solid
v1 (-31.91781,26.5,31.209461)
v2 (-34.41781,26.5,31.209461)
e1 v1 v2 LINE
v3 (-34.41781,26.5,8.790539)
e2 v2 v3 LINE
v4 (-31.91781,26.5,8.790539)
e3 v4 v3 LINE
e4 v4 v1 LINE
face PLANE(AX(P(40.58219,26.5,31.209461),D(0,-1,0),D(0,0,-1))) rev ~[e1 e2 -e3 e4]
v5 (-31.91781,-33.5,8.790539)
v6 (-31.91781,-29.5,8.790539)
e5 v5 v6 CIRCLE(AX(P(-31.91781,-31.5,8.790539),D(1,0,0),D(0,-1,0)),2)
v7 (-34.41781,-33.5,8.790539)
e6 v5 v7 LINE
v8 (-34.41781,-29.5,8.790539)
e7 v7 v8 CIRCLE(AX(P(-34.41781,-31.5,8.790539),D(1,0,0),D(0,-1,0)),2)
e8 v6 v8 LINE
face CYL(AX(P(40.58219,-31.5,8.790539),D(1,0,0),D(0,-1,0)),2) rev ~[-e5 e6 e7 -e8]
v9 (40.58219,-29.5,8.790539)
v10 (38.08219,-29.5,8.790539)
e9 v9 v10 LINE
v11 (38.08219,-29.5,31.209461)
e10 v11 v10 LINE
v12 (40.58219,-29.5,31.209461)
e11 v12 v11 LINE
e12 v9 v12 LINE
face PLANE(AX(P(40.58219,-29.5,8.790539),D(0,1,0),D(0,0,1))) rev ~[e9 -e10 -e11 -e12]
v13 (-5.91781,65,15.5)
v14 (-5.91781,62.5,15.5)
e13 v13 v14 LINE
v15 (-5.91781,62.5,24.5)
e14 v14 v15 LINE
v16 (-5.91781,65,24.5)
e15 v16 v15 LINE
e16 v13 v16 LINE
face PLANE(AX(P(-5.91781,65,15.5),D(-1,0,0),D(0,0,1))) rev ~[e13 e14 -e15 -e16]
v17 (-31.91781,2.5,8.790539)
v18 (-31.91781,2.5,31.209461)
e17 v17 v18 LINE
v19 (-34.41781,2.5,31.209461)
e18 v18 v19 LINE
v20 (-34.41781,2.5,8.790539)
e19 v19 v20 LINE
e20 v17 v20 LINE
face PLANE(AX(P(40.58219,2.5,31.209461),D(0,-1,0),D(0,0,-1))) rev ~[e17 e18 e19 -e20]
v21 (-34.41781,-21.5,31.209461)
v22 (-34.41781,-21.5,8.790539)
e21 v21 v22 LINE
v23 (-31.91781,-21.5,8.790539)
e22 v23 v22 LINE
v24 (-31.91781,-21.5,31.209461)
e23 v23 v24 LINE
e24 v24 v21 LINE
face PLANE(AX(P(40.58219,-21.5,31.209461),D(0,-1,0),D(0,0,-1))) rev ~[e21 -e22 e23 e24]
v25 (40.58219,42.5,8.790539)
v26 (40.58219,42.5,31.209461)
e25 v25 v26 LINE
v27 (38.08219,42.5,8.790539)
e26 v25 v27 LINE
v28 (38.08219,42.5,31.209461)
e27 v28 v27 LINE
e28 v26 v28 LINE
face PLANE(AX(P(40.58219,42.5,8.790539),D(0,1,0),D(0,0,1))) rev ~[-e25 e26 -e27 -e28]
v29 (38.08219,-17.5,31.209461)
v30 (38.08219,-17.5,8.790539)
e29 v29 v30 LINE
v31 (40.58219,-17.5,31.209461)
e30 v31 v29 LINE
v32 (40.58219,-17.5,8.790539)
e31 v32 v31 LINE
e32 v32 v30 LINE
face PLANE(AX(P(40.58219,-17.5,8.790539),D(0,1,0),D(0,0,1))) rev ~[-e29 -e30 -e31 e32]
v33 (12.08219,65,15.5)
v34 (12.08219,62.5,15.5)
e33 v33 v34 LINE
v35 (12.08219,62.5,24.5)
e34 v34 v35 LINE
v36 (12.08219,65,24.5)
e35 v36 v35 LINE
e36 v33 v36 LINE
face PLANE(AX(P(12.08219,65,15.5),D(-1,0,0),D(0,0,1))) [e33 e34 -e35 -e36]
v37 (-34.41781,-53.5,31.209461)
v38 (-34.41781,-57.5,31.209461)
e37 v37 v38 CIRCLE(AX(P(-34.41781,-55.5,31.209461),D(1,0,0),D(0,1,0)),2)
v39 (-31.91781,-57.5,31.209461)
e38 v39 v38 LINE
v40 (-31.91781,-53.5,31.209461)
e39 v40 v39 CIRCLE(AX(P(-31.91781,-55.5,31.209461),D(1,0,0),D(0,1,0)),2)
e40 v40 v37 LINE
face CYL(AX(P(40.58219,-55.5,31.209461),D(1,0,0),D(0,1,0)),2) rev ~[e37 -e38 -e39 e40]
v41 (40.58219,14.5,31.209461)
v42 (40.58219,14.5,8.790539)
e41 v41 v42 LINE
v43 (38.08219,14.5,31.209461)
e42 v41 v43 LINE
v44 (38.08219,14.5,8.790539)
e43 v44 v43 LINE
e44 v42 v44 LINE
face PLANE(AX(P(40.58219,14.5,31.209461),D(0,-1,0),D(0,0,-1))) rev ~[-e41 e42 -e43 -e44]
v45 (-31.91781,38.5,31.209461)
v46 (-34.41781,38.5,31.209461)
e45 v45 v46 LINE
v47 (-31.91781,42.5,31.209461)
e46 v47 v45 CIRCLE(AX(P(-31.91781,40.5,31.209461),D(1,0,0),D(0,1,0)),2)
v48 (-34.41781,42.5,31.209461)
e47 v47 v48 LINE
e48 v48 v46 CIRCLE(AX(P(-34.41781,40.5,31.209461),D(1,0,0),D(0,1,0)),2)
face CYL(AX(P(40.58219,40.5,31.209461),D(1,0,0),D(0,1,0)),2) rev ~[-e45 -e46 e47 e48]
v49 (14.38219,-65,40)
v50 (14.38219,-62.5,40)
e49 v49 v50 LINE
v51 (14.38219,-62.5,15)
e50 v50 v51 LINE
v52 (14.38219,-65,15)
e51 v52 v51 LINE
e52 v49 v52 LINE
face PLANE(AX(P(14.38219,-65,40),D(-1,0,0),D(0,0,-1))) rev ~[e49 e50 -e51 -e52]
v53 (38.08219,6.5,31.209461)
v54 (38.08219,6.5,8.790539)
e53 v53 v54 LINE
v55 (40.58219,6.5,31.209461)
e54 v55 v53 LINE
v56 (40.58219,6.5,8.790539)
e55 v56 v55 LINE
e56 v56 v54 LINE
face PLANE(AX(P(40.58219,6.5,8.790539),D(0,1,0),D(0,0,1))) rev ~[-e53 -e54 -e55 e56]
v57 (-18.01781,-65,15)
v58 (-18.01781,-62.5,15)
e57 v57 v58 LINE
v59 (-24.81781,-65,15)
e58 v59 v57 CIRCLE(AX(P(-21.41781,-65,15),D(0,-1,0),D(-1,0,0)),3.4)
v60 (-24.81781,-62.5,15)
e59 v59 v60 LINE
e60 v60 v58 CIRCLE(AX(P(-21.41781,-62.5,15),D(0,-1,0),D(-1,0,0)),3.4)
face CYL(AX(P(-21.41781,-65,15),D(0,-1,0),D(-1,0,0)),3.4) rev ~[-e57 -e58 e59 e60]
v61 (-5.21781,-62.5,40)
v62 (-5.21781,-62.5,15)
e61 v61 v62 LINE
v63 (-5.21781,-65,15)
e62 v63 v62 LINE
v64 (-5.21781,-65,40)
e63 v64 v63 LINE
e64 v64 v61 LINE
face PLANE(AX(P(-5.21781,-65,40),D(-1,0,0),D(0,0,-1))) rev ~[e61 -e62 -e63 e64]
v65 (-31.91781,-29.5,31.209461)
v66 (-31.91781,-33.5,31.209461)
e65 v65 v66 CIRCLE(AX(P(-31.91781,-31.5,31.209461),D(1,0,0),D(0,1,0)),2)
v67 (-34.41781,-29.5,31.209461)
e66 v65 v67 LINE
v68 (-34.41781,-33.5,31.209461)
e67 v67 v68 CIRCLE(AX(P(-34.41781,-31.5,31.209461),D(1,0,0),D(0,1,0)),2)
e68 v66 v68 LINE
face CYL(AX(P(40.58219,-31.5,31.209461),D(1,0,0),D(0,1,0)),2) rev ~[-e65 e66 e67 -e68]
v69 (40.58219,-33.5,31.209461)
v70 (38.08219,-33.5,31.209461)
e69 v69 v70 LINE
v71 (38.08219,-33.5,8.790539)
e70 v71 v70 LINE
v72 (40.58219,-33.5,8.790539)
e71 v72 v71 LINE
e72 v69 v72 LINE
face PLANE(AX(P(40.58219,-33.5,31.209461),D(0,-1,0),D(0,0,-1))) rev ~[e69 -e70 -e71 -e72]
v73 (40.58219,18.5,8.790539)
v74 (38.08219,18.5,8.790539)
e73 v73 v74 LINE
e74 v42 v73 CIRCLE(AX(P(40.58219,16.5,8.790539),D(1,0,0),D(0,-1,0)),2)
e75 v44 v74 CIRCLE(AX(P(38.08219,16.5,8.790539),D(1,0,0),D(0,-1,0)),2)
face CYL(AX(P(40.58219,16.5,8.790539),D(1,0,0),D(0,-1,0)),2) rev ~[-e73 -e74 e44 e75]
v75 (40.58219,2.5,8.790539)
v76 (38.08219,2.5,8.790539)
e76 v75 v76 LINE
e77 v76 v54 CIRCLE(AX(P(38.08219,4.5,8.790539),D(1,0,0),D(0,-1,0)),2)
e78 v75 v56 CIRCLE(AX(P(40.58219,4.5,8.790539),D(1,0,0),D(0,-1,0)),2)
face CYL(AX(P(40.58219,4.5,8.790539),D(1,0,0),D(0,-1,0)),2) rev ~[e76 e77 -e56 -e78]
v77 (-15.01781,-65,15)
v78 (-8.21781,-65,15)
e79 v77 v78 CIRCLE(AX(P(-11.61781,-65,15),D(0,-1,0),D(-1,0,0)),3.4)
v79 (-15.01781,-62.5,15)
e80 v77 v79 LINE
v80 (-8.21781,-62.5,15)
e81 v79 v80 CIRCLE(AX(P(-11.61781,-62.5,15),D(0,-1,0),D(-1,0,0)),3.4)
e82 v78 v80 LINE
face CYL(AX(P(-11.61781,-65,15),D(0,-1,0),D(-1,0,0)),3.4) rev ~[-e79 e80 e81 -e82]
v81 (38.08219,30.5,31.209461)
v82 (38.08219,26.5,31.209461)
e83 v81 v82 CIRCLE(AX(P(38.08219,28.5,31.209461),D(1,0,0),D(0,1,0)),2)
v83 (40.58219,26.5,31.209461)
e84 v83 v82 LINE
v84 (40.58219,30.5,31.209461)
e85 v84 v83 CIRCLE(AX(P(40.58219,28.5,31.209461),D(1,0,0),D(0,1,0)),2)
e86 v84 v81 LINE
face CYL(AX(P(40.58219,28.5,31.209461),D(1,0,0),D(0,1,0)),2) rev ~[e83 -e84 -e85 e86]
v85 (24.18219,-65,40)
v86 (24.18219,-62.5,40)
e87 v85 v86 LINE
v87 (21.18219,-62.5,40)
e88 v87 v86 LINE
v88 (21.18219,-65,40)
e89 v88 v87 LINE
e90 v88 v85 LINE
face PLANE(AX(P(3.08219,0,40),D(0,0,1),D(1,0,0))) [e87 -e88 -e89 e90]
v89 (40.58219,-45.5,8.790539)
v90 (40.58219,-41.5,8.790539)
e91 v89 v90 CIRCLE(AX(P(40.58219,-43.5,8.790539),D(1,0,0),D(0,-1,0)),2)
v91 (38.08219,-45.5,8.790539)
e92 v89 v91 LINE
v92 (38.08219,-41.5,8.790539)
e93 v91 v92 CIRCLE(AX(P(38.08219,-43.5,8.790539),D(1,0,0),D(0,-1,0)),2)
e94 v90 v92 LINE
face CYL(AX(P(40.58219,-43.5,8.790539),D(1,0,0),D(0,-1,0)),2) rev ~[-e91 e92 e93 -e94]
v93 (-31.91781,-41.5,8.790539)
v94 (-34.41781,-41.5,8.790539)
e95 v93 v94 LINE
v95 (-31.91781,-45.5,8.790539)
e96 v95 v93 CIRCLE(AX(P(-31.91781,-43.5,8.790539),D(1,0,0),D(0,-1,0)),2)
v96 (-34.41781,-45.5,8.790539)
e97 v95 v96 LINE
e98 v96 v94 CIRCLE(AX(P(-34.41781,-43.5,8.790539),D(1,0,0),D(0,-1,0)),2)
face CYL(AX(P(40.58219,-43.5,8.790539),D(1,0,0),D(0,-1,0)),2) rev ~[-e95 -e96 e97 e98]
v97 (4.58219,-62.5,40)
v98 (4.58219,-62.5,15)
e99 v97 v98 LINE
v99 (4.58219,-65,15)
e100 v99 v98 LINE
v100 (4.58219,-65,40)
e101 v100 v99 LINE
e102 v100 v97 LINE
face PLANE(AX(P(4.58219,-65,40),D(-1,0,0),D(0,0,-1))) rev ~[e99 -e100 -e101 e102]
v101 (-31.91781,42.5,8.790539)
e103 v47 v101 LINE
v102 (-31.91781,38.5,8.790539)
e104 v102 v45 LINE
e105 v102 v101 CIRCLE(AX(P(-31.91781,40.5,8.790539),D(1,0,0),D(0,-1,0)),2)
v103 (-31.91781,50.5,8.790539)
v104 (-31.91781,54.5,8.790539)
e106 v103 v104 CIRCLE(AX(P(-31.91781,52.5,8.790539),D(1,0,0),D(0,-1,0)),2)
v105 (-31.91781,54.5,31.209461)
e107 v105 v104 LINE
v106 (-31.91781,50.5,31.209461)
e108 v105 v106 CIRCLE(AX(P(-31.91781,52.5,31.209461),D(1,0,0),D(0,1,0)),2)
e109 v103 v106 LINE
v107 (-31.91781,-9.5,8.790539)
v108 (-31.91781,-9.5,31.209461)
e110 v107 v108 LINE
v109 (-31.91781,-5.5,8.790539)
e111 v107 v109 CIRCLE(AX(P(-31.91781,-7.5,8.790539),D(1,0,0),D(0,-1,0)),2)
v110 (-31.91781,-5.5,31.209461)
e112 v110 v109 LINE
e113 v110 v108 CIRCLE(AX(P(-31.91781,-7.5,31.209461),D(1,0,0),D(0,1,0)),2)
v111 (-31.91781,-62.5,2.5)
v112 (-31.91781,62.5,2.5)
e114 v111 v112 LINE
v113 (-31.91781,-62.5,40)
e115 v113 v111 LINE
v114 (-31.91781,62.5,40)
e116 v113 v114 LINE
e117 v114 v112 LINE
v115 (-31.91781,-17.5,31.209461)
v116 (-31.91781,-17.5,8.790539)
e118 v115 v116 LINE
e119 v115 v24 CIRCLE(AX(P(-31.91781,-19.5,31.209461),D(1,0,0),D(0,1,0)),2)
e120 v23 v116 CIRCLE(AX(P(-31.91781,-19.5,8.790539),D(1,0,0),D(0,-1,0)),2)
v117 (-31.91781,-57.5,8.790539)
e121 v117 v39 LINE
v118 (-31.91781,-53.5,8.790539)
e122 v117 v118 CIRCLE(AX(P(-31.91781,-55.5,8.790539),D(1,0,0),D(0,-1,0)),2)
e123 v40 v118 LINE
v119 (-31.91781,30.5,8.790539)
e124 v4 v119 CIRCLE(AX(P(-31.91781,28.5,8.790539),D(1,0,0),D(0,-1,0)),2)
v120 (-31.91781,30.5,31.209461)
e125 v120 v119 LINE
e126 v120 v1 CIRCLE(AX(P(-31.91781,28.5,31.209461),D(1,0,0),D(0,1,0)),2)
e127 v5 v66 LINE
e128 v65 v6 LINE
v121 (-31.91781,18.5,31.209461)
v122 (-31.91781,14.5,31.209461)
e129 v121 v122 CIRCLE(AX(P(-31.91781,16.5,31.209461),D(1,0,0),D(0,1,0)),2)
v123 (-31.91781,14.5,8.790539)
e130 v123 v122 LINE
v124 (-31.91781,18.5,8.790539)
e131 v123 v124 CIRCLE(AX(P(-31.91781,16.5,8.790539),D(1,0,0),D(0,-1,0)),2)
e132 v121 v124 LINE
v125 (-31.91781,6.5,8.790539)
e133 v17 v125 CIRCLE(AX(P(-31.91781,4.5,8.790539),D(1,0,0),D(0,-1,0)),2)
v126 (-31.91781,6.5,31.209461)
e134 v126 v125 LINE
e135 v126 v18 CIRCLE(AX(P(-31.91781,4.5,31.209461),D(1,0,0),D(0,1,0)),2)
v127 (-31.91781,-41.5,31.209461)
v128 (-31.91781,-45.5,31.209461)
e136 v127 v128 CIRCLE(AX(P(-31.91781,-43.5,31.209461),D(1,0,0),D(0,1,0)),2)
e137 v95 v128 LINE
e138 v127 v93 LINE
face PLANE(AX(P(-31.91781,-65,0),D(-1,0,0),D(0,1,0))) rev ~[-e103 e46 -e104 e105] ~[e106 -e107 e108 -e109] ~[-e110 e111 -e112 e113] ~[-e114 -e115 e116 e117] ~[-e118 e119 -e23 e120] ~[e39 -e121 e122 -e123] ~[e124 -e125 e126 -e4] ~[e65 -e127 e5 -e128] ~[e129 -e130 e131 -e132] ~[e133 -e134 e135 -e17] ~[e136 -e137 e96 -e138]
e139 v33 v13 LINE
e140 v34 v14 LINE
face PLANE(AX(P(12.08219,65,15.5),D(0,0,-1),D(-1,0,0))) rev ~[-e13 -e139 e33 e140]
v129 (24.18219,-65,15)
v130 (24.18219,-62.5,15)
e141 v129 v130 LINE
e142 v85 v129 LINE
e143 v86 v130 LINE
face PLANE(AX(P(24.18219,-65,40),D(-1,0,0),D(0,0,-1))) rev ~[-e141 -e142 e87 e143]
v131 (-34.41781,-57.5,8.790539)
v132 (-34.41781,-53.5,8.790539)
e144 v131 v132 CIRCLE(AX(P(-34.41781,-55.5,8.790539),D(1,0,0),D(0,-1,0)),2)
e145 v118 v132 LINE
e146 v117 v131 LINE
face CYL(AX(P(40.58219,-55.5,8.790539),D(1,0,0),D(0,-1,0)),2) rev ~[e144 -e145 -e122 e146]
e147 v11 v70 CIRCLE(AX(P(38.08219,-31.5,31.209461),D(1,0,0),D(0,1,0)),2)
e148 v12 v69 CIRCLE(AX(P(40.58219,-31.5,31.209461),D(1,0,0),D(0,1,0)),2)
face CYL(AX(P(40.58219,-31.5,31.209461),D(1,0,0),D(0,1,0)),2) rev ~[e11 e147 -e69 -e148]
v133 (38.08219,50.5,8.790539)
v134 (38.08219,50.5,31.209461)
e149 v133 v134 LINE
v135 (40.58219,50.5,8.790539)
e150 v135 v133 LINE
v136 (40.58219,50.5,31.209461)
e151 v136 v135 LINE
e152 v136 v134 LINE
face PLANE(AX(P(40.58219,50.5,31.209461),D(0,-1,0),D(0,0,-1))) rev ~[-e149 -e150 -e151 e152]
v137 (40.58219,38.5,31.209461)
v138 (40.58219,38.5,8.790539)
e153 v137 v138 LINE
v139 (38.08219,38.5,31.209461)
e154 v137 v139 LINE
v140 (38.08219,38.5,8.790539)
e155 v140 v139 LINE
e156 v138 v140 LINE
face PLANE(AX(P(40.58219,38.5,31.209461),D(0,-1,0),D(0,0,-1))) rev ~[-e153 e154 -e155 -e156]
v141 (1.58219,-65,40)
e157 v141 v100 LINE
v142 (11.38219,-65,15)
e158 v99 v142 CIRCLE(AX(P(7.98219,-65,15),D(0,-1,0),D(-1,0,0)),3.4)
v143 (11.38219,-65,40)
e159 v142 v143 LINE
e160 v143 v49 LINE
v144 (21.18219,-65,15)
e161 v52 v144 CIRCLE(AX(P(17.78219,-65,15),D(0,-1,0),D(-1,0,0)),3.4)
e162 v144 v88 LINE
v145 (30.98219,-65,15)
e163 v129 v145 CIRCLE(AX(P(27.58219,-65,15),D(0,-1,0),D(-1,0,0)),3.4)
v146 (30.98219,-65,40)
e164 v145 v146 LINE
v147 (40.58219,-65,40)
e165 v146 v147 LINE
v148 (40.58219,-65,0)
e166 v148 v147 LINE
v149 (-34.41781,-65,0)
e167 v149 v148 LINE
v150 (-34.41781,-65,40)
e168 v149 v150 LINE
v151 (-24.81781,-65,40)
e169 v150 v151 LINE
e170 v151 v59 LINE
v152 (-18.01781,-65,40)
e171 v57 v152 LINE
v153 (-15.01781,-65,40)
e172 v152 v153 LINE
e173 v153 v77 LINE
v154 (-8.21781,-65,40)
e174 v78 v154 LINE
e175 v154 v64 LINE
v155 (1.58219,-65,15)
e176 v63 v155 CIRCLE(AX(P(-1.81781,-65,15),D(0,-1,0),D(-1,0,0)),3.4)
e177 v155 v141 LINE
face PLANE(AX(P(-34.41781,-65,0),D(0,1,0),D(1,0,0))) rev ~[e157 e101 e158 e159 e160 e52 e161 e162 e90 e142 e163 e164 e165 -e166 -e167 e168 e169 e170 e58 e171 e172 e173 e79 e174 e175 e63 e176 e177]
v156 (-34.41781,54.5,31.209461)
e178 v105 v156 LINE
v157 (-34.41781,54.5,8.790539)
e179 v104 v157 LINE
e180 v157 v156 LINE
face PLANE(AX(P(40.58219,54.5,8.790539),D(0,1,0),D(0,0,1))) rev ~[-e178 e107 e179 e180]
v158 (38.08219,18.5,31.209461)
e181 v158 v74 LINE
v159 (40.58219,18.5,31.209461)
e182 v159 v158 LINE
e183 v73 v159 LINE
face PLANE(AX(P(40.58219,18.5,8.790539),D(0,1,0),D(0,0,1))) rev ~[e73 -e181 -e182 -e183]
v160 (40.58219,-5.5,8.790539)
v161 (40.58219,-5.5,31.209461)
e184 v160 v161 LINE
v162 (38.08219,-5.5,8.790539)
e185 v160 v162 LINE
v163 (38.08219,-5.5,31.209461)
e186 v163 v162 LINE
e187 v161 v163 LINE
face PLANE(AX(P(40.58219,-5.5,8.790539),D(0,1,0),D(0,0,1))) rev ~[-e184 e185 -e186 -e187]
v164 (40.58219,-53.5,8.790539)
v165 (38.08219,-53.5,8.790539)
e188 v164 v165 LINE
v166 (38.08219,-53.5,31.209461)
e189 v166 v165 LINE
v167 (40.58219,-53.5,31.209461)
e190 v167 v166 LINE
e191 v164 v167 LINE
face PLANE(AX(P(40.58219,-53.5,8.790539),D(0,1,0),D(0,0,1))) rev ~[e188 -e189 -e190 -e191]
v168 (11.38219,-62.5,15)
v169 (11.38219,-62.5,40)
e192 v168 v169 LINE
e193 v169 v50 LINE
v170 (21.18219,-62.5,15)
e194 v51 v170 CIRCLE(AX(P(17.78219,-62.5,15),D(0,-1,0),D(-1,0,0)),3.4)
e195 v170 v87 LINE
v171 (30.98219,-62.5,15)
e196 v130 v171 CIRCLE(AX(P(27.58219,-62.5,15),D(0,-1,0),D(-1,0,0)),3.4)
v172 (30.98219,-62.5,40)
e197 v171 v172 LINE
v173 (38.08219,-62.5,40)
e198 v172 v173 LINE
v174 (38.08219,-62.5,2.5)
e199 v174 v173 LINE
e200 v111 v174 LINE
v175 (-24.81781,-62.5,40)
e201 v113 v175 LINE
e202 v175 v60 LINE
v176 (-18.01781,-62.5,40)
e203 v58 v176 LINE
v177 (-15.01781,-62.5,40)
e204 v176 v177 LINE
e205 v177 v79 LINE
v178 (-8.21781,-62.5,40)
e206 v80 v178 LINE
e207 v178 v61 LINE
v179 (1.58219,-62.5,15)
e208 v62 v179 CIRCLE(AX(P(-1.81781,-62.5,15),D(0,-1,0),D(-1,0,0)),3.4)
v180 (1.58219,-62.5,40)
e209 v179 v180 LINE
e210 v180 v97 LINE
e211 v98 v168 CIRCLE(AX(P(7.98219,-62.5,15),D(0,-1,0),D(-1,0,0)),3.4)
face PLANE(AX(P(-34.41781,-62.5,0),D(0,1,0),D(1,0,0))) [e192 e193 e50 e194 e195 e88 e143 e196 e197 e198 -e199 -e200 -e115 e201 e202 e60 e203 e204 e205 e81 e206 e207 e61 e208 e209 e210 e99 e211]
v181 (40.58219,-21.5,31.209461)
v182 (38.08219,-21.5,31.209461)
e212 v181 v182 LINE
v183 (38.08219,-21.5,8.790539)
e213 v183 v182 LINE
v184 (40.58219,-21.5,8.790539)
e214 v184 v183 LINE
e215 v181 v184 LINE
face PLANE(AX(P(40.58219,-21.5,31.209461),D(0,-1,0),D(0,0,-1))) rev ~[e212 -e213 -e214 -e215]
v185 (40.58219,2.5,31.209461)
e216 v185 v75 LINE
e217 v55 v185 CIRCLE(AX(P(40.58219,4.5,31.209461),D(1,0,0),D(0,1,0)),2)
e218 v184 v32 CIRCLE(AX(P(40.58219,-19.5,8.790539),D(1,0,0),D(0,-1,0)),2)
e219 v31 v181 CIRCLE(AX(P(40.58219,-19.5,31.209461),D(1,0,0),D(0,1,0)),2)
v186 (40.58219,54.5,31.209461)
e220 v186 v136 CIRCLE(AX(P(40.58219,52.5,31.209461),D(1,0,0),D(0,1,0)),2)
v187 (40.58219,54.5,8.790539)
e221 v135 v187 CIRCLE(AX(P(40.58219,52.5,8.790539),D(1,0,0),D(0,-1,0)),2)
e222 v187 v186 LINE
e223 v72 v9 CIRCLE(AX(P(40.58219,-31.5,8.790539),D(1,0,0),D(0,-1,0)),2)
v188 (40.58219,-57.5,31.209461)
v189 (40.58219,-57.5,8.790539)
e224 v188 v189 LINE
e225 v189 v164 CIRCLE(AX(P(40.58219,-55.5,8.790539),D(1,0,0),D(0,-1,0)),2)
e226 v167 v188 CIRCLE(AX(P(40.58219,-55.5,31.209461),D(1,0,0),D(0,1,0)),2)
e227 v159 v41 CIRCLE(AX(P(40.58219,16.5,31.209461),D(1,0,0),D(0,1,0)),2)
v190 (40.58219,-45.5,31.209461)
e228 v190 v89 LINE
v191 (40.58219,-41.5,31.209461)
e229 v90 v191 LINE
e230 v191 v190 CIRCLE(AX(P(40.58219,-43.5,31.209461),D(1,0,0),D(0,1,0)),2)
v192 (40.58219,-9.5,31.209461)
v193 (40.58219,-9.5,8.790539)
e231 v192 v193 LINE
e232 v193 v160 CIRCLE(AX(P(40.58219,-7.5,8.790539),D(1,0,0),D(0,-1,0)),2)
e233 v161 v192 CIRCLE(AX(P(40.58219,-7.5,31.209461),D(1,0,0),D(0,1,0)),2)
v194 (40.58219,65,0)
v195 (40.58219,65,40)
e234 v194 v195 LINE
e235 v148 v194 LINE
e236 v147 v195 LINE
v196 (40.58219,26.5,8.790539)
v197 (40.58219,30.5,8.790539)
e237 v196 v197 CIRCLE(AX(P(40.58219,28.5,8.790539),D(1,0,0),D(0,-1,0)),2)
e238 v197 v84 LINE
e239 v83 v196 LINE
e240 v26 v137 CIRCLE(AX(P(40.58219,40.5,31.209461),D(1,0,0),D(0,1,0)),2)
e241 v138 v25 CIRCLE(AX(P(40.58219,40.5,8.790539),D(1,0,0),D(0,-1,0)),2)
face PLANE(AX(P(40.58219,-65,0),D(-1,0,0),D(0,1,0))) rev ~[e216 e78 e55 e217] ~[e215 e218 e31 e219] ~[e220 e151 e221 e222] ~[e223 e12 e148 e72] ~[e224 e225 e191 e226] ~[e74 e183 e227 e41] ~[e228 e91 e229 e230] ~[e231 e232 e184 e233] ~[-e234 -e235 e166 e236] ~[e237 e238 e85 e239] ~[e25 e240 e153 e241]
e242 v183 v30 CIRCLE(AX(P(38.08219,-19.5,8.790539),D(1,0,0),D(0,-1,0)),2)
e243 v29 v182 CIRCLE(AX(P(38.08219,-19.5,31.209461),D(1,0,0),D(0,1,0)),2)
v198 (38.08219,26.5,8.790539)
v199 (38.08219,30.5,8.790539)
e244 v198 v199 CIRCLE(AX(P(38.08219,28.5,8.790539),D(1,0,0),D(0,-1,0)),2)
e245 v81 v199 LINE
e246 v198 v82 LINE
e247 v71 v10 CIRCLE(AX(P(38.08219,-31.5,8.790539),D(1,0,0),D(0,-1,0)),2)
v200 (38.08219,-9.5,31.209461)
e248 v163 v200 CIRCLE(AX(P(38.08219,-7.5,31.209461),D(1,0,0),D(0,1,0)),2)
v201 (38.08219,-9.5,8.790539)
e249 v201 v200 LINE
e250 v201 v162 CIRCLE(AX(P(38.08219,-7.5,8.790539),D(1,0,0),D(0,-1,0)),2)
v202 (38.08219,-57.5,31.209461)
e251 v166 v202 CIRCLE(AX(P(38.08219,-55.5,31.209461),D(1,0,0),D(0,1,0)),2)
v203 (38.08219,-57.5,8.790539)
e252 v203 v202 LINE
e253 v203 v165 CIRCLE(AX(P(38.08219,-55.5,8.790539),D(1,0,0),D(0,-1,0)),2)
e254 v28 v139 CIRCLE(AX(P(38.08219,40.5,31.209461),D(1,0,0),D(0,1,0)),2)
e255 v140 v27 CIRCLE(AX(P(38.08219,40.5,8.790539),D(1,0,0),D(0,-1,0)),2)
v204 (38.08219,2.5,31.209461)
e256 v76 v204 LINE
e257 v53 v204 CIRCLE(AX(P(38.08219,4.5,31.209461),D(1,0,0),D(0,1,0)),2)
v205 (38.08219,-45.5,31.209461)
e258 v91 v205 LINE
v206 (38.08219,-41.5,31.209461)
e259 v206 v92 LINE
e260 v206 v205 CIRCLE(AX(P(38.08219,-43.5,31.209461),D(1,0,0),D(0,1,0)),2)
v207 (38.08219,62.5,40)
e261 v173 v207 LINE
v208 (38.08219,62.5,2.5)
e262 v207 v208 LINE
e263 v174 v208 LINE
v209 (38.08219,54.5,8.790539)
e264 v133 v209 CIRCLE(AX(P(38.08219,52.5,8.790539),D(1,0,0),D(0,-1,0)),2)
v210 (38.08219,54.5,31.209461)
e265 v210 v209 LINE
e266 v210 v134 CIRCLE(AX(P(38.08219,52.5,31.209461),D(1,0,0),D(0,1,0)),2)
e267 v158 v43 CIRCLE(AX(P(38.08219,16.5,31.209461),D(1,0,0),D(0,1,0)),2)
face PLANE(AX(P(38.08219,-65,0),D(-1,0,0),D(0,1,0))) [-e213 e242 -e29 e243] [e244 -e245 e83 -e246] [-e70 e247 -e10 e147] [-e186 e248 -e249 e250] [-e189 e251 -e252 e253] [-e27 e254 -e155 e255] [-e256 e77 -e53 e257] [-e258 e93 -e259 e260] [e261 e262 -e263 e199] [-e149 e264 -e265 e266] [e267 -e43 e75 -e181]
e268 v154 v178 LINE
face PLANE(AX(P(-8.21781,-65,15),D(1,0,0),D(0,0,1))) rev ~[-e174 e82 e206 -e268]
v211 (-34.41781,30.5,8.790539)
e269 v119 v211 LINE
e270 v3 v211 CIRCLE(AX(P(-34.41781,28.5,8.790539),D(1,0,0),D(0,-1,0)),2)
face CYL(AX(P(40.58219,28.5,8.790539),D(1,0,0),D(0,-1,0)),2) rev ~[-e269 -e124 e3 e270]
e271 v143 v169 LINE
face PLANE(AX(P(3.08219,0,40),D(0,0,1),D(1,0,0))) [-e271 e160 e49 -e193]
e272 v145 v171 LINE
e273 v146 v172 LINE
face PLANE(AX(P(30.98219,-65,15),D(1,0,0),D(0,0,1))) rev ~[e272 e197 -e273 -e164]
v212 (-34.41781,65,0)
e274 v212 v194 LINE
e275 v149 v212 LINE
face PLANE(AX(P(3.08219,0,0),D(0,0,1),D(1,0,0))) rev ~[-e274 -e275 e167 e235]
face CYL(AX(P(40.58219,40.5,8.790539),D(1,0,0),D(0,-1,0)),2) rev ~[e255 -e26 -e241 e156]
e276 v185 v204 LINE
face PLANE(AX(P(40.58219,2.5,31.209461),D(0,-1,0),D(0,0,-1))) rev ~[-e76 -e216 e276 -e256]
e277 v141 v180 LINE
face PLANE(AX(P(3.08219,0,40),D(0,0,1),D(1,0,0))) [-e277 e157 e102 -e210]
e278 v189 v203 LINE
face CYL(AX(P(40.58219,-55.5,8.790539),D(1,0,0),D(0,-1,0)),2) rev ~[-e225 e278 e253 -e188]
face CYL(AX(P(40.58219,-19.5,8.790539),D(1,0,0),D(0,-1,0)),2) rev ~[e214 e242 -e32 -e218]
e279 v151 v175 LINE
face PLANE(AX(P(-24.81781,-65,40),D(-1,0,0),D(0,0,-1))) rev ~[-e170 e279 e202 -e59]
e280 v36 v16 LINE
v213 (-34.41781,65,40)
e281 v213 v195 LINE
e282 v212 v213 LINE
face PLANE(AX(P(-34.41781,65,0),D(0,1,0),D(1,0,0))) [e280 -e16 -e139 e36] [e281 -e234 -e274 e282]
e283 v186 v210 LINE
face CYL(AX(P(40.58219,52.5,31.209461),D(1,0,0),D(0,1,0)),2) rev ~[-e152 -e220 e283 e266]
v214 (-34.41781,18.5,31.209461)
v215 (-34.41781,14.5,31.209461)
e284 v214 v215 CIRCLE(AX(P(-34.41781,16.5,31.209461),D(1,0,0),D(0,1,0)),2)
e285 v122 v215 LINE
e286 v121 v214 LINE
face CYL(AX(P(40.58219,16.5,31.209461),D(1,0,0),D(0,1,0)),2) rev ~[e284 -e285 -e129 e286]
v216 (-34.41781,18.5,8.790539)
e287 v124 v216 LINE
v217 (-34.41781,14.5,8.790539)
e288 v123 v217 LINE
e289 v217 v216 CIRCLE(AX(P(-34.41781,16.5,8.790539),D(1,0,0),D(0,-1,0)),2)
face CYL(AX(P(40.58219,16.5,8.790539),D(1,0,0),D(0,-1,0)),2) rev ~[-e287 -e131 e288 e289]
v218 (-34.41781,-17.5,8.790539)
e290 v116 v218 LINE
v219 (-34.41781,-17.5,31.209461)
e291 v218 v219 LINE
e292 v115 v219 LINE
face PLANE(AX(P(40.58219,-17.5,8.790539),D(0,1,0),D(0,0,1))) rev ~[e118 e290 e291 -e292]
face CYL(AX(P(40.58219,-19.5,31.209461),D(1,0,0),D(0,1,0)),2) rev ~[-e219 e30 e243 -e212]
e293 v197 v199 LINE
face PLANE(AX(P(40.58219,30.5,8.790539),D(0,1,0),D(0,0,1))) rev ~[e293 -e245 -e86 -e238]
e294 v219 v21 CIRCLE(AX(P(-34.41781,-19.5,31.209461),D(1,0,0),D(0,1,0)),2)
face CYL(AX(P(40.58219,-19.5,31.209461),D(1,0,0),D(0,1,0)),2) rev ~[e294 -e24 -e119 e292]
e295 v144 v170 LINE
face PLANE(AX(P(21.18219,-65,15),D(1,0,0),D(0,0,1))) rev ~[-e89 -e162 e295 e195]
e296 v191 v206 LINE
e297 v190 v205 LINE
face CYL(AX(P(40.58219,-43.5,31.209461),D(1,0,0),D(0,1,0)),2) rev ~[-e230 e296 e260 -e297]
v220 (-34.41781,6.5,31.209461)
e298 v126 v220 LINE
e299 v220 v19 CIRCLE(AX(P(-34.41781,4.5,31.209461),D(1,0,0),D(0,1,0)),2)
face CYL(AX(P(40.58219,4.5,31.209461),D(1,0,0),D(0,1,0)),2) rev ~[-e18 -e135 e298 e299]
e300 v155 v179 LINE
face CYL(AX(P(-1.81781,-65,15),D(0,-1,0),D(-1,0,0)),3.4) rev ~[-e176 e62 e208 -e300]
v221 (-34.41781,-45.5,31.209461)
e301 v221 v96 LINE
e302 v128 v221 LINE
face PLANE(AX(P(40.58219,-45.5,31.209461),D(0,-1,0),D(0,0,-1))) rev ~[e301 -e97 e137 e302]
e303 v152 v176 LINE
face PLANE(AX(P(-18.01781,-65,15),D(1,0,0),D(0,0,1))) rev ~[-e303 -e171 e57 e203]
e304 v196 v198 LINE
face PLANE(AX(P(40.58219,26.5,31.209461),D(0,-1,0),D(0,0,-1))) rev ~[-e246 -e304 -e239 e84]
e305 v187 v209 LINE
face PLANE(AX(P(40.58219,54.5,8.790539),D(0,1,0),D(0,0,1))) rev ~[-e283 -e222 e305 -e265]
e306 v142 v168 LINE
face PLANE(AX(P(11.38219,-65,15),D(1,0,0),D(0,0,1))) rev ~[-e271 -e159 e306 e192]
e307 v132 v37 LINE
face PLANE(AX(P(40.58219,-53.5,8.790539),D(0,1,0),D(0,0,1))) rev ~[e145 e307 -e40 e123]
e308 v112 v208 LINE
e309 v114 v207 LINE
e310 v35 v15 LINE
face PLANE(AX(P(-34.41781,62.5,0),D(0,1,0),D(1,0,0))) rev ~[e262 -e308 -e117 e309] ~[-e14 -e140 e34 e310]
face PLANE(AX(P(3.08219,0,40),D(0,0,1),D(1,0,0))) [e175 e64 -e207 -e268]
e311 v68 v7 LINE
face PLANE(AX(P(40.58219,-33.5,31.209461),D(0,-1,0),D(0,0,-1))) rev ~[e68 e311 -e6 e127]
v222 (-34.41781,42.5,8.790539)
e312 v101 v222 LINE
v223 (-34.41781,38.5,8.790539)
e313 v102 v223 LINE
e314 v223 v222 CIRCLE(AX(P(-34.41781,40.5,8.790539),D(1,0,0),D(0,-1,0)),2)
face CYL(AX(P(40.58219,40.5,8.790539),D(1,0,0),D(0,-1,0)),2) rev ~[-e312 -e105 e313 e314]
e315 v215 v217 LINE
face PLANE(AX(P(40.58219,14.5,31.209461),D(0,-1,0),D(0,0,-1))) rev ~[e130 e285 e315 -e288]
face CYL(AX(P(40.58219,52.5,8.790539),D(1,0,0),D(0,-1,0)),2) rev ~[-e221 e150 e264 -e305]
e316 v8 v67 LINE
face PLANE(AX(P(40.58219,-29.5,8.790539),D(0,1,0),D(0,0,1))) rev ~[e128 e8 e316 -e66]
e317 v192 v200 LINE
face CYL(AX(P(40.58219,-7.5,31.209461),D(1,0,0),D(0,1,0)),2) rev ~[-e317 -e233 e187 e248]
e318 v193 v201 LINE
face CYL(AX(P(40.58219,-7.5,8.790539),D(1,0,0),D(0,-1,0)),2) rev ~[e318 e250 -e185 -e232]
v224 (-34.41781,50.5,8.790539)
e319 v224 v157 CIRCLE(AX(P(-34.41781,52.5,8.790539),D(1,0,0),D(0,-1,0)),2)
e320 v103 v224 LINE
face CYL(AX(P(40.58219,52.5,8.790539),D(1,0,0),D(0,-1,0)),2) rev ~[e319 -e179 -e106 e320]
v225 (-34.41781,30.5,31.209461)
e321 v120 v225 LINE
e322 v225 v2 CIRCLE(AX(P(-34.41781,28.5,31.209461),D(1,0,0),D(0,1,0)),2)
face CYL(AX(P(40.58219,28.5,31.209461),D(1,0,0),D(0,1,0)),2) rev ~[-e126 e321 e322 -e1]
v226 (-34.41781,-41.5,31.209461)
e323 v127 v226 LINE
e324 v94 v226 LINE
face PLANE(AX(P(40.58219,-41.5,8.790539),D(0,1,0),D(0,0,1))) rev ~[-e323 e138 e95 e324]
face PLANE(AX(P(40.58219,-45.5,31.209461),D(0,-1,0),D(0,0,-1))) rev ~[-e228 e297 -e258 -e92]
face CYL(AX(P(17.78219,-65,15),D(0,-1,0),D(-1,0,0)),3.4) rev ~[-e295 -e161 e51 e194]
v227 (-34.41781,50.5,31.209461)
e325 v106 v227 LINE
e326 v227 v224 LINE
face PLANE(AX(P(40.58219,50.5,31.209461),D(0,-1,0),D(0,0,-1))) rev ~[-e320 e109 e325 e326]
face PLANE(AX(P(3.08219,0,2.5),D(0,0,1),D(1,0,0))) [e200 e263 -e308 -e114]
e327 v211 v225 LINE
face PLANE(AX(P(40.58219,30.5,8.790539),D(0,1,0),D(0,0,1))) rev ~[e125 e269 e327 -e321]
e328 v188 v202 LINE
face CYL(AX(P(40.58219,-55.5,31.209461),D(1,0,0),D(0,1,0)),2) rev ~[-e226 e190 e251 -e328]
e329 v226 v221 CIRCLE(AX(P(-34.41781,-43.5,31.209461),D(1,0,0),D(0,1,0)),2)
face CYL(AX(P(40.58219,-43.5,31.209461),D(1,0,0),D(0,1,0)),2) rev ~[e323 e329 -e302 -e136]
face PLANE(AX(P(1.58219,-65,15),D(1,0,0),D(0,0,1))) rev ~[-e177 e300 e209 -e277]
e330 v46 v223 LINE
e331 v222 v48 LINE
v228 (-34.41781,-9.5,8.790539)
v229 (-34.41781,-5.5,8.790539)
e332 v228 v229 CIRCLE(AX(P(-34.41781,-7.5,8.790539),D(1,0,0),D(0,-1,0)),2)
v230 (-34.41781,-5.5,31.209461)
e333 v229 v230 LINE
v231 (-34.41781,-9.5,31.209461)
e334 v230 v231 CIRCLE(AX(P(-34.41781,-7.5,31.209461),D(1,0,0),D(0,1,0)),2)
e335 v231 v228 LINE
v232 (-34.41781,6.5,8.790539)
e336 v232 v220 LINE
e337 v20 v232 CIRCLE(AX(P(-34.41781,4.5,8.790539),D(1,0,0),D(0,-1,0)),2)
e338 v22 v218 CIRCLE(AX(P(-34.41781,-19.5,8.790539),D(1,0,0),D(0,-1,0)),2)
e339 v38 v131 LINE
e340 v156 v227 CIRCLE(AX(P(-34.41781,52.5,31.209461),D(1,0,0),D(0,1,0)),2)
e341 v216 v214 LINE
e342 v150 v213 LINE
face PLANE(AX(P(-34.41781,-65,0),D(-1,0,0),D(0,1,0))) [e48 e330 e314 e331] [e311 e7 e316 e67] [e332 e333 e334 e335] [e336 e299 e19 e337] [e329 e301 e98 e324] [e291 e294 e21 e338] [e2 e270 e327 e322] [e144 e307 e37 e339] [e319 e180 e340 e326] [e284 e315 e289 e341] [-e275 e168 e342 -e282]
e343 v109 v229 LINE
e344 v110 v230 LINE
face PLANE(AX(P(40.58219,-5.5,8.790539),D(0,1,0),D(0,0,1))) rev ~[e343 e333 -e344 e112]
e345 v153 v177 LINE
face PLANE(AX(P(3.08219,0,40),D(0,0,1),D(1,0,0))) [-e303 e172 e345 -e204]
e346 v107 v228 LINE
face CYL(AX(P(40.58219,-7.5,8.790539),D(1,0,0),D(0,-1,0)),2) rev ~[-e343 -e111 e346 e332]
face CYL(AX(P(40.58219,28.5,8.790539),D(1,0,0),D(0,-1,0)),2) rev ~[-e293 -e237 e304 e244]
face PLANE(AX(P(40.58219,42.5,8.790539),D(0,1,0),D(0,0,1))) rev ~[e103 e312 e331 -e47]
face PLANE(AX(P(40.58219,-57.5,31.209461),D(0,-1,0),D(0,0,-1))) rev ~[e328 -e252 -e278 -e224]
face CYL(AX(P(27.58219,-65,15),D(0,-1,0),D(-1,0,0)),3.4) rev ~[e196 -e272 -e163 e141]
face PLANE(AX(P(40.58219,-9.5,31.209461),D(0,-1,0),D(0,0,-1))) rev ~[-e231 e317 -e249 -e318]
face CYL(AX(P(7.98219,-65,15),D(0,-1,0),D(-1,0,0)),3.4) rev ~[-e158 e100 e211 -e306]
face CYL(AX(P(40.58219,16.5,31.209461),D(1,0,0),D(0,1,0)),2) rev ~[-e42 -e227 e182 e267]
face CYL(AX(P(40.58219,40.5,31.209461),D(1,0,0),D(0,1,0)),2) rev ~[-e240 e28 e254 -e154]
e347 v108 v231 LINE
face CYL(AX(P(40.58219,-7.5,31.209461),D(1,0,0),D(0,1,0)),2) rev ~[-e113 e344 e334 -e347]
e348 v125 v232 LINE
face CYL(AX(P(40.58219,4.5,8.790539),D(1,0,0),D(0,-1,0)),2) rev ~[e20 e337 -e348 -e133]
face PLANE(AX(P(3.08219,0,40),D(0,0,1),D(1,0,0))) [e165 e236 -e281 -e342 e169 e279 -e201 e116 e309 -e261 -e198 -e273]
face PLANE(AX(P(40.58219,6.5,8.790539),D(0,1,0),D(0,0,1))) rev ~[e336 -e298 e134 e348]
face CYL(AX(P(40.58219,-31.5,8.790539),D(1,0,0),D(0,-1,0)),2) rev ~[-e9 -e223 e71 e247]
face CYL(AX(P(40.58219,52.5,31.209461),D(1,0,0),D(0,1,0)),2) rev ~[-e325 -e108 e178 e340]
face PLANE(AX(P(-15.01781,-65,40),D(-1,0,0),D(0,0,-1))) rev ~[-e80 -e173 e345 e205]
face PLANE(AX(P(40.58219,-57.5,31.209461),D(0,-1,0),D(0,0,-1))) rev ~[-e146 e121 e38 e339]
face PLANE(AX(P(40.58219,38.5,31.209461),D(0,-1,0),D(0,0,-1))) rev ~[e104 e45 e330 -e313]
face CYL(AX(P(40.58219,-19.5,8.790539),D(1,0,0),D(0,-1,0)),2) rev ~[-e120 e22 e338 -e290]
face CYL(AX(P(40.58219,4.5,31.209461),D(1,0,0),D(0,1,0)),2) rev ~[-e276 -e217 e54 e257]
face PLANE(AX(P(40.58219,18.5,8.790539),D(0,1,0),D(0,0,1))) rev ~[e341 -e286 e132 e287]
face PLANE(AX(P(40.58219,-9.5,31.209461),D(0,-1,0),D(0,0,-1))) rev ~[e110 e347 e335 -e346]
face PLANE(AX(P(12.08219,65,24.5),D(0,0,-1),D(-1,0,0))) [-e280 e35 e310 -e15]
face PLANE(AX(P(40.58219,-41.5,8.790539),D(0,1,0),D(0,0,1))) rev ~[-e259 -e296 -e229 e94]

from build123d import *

# Parameters (mm, degrees)
F0_W     = 75
F0_H     = 130
F1_DEPTH = 40
F2_T     = -2.5
F4_DEPTH = 2.5
F5_W     = 18
F5_H     = 9
F6_DEPTH = 2.5
F8_DEPTH = 75


with BuildPart() as f1:
    # F0 (on Top) → F1 (new body)
    with BuildSketch(Plane.XY):
        with Locations((3.0821902634, 0)):
            Rectangle(F0_W, F0_H)
    extrude(amount=F1_DEPTH)

    # F2
    f2_openings = [f1.faces().sort_by_distance(p)[0] for p in [
        (3.08219, 0, 40),
    ]]
    offset(amount=F2_T, openings=f2_openings)

    # F3 (on face) → F4 (cut, through all)
    with BuildSketch(Plane.XZ.offset(65)):
        with BuildLine():
            Line((-18.0178097366, 40), (-24.8178097366, 40))
            Line((-24.8178097366, 40), (-24.8178097366, 15))
            ThreePointArc((-24.8178097366, 15), (-21.4178097366, 11.6), (-18.0178097366, 15))
            Line((-18.0178097366, 15), (-18.0178097366, 40))
        make_face()
        with BuildLine():
            Line((-8.2178097366, 40), (-15.0178097366, 40))
            Line((-15.0178097366, 40), (-15.0178097366, 15))
            ThreePointArc((-15.0178097366, 15), (-11.6178097366, 11.6), (-8.2178097366, 15))
            Line((-8.2178097366, 15), (-8.2178097366, 40))
        make_face()
        with BuildLine():
            Line((1.5821902634, 40), (-5.2178097366, 40))
            Line((-5.2178097366, 40), (-5.2178097366, 15))
            ThreePointArc((-5.2178097366, 15), (-1.8178097366, 11.6), (1.5821902634, 15))
            Line((1.5821902634, 15), (1.5821902634, 40))
        make_face()
        with BuildLine():
            Line((11.3821902634, 40), (4.5821902634, 40))
            Line((4.5821902634, 40), (4.5821902634, 15))
            ThreePointArc((4.5821902634, 15), (7.9821902634, 11.6), (11.3821902634, 15))
            Line((11.3821902634, 15), (11.3821902634, 40))
        make_face()
        with BuildLine():
            Line((21.1821902634, 15), (21.1821902634, 40))
            Line((21.1821902634, 40), (14.3821902634, 40))
            Line((14.3821902634, 40), (14.3821902634, 15))
            ThreePointArc((14.3821902634, 15), (17.7821902634, 11.6), (21.1821902634, 15))
        make_face()
        with BuildLine():
            Line((30.9821902634, 15), (30.9821902634, 40))
            Line((30.9821902634, 40), (24.1821902634, 40))
            Line((24.1821902634, 40), (24.1821902634, 15))
            ThreePointArc((24.1821902634, 15), (27.5821902634, 11.6), (30.9821902634, 15))
        make_face()
    extrude(amount=-F4_DEPTH, mode=Mode.SUBTRACT)

    # F5 (on face) → F6 (cut, through all)
    with BuildSketch(Plane(origin=(0, 65, 0), x_dir=(-1, 0, 0), z_dir=(0, 1, 0))):
        with Locations((-3.0821902634, 20)):
            Rectangle(F5_W, F5_H)
    extrude(amount=-F6_DEPTH, mode=Mode.SUBTRACT)

    # F7 (on face) → F8 (cut, through all)
    with BuildSketch(Plane.YZ.offset(40.5821902634)):
        with BuildLine():
            Line((-53.5, 8.790538609), (-53.5, 31.209461391))
            ThreePointArc((-53.5, 31.209461391), (-55.5, 33.209461391), (-57.5, 31.209461391))
            Line((-57.5, 31.209461391), (-57.5, 8.790538609))
            ThreePointArc((-57.5, 8.790538609), (-55.5, 6.790538609), (-53.5, 8.790538609))
        make_face()
        with BuildLine():
            Line((-29.5, 8.790538609), (-29.5, 31.209461391))
            ThreePointArc((-29.5, 31.209461391), (-31.5, 33.209461391), (-33.5, 31.209461391))
            Line((-33.5, 31.209461391), (-33.5, 8.790538609))
            ThreePointArc((-33.5, 8.790538609), (-31.5, 6.790538609), (-29.5, 8.790538609))
        make_face()
        with BuildLine():
            Line((-17.5, 8.790538609), (-17.5, 31.209461391))
            ThreePointArc((-17.5, 31.209461391), (-19.5, 33.209461391), (-21.5, 31.209461391))
            Line((-21.5, 31.209461391), (-21.5, 8.790538609))
            ThreePointArc((-21.5, 8.790538609), (-19.5, 6.790538609), (-17.5, 8.790538609))
        make_face()
        with BuildLine():
            Line((-5.5, 8.790538609), (-5.5, 31.209461391))
            ThreePointArc((-5.5, 31.209461391), (-7.5, 33.209461391), (-9.5, 31.209461391))
            Line((-9.5, 31.209461391), (-9.5, 8.790538609))
            ThreePointArc((-9.5, 8.790538609), (-7.5, 6.790538609), (-5.5, 8.790538609))
        make_face()
        with BuildLine():
            Line((6.5, 8.790538609), (6.5, 31.209461391))
            ThreePointArc((6.5, 31.209461391), (4.5, 33.209461391), (2.5, 31.209461391))
            Line((2.5, 31.209461391), (2.5, 8.790538609))
            ThreePointArc((2.5, 8.790538609), (4.5, 6.790538609), (6.5, 8.790538609))
        make_face()
        with BuildLine():
            Line((18.5, 8.790538609), (18.5, 31.209461391))
            ThreePointArc((18.5, 31.209461391), (16.5, 33.209461391), (14.5, 31.209461391))
            Line((14.5, 31.209461391), (14.5, 8.790538609))
            ThreePointArc((14.5, 8.790538609), (16.5, 6.790538609), (18.5, 8.790538609))
        make_face()
        with BuildLine():
            Line((30.5, 8.790538609), (30.5, 31.209461391))
            ThreePointArc((30.5, 31.209461391), (28.5, 33.209461391), (26.5, 31.209461391))
            Line((26.5, 31.209461391), (26.5, 8.790538609))
            ThreePointArc((26.5, 8.790538609), (28.5, 6.790538609), (30.5, 8.790538609))
        make_face()
        with BuildLine():
            Line((42.5, 8.790538609), (42.5, 31.209461391))
            ThreePointArc((42.5, 31.209461391), (40.5, 33.209461391), (38.5, 31.209461391))
            Line((38.5, 31.209461391), (38.5, 8.790538609))
            ThreePointArc((38.5, 8.790538609), (40.5, 6.790538609), (42.5, 8.790538609))
        make_face()
        with BuildLine():
            Line((54.5, 8.790538609), (54.5, 31.209461391))
            ThreePointArc((54.5, 31.209461391), (52.5, 33.209461391), (50.5, 31.209461391))
            Line((50.5, 31.209461391), (50.5, 8.790538609))
            ThreePointArc((50.5, 8.790538609), (52.5, 6.790538609), (54.5, 8.790538609))
        make_face()
        with BuildLine():
            Line((-41.5, 8.790538609), (-41.5, 31.209461391))
            ThreePointArc((-41.5, 31.209461391), (-43.5, 33.209461391), (-45.5, 31.209461391))
            Line((-45.5, 31.209461391), (-45.5, 8.790538609))
            ThreePointArc((-45.5, 8.790538609), (-43.5, 6.790538609), (-41.5, 8.790538609))
        make_face()
    extrude(amount=-F8_DEPTH, mode=Mode.SUBTRACT)


solid = f1.part
